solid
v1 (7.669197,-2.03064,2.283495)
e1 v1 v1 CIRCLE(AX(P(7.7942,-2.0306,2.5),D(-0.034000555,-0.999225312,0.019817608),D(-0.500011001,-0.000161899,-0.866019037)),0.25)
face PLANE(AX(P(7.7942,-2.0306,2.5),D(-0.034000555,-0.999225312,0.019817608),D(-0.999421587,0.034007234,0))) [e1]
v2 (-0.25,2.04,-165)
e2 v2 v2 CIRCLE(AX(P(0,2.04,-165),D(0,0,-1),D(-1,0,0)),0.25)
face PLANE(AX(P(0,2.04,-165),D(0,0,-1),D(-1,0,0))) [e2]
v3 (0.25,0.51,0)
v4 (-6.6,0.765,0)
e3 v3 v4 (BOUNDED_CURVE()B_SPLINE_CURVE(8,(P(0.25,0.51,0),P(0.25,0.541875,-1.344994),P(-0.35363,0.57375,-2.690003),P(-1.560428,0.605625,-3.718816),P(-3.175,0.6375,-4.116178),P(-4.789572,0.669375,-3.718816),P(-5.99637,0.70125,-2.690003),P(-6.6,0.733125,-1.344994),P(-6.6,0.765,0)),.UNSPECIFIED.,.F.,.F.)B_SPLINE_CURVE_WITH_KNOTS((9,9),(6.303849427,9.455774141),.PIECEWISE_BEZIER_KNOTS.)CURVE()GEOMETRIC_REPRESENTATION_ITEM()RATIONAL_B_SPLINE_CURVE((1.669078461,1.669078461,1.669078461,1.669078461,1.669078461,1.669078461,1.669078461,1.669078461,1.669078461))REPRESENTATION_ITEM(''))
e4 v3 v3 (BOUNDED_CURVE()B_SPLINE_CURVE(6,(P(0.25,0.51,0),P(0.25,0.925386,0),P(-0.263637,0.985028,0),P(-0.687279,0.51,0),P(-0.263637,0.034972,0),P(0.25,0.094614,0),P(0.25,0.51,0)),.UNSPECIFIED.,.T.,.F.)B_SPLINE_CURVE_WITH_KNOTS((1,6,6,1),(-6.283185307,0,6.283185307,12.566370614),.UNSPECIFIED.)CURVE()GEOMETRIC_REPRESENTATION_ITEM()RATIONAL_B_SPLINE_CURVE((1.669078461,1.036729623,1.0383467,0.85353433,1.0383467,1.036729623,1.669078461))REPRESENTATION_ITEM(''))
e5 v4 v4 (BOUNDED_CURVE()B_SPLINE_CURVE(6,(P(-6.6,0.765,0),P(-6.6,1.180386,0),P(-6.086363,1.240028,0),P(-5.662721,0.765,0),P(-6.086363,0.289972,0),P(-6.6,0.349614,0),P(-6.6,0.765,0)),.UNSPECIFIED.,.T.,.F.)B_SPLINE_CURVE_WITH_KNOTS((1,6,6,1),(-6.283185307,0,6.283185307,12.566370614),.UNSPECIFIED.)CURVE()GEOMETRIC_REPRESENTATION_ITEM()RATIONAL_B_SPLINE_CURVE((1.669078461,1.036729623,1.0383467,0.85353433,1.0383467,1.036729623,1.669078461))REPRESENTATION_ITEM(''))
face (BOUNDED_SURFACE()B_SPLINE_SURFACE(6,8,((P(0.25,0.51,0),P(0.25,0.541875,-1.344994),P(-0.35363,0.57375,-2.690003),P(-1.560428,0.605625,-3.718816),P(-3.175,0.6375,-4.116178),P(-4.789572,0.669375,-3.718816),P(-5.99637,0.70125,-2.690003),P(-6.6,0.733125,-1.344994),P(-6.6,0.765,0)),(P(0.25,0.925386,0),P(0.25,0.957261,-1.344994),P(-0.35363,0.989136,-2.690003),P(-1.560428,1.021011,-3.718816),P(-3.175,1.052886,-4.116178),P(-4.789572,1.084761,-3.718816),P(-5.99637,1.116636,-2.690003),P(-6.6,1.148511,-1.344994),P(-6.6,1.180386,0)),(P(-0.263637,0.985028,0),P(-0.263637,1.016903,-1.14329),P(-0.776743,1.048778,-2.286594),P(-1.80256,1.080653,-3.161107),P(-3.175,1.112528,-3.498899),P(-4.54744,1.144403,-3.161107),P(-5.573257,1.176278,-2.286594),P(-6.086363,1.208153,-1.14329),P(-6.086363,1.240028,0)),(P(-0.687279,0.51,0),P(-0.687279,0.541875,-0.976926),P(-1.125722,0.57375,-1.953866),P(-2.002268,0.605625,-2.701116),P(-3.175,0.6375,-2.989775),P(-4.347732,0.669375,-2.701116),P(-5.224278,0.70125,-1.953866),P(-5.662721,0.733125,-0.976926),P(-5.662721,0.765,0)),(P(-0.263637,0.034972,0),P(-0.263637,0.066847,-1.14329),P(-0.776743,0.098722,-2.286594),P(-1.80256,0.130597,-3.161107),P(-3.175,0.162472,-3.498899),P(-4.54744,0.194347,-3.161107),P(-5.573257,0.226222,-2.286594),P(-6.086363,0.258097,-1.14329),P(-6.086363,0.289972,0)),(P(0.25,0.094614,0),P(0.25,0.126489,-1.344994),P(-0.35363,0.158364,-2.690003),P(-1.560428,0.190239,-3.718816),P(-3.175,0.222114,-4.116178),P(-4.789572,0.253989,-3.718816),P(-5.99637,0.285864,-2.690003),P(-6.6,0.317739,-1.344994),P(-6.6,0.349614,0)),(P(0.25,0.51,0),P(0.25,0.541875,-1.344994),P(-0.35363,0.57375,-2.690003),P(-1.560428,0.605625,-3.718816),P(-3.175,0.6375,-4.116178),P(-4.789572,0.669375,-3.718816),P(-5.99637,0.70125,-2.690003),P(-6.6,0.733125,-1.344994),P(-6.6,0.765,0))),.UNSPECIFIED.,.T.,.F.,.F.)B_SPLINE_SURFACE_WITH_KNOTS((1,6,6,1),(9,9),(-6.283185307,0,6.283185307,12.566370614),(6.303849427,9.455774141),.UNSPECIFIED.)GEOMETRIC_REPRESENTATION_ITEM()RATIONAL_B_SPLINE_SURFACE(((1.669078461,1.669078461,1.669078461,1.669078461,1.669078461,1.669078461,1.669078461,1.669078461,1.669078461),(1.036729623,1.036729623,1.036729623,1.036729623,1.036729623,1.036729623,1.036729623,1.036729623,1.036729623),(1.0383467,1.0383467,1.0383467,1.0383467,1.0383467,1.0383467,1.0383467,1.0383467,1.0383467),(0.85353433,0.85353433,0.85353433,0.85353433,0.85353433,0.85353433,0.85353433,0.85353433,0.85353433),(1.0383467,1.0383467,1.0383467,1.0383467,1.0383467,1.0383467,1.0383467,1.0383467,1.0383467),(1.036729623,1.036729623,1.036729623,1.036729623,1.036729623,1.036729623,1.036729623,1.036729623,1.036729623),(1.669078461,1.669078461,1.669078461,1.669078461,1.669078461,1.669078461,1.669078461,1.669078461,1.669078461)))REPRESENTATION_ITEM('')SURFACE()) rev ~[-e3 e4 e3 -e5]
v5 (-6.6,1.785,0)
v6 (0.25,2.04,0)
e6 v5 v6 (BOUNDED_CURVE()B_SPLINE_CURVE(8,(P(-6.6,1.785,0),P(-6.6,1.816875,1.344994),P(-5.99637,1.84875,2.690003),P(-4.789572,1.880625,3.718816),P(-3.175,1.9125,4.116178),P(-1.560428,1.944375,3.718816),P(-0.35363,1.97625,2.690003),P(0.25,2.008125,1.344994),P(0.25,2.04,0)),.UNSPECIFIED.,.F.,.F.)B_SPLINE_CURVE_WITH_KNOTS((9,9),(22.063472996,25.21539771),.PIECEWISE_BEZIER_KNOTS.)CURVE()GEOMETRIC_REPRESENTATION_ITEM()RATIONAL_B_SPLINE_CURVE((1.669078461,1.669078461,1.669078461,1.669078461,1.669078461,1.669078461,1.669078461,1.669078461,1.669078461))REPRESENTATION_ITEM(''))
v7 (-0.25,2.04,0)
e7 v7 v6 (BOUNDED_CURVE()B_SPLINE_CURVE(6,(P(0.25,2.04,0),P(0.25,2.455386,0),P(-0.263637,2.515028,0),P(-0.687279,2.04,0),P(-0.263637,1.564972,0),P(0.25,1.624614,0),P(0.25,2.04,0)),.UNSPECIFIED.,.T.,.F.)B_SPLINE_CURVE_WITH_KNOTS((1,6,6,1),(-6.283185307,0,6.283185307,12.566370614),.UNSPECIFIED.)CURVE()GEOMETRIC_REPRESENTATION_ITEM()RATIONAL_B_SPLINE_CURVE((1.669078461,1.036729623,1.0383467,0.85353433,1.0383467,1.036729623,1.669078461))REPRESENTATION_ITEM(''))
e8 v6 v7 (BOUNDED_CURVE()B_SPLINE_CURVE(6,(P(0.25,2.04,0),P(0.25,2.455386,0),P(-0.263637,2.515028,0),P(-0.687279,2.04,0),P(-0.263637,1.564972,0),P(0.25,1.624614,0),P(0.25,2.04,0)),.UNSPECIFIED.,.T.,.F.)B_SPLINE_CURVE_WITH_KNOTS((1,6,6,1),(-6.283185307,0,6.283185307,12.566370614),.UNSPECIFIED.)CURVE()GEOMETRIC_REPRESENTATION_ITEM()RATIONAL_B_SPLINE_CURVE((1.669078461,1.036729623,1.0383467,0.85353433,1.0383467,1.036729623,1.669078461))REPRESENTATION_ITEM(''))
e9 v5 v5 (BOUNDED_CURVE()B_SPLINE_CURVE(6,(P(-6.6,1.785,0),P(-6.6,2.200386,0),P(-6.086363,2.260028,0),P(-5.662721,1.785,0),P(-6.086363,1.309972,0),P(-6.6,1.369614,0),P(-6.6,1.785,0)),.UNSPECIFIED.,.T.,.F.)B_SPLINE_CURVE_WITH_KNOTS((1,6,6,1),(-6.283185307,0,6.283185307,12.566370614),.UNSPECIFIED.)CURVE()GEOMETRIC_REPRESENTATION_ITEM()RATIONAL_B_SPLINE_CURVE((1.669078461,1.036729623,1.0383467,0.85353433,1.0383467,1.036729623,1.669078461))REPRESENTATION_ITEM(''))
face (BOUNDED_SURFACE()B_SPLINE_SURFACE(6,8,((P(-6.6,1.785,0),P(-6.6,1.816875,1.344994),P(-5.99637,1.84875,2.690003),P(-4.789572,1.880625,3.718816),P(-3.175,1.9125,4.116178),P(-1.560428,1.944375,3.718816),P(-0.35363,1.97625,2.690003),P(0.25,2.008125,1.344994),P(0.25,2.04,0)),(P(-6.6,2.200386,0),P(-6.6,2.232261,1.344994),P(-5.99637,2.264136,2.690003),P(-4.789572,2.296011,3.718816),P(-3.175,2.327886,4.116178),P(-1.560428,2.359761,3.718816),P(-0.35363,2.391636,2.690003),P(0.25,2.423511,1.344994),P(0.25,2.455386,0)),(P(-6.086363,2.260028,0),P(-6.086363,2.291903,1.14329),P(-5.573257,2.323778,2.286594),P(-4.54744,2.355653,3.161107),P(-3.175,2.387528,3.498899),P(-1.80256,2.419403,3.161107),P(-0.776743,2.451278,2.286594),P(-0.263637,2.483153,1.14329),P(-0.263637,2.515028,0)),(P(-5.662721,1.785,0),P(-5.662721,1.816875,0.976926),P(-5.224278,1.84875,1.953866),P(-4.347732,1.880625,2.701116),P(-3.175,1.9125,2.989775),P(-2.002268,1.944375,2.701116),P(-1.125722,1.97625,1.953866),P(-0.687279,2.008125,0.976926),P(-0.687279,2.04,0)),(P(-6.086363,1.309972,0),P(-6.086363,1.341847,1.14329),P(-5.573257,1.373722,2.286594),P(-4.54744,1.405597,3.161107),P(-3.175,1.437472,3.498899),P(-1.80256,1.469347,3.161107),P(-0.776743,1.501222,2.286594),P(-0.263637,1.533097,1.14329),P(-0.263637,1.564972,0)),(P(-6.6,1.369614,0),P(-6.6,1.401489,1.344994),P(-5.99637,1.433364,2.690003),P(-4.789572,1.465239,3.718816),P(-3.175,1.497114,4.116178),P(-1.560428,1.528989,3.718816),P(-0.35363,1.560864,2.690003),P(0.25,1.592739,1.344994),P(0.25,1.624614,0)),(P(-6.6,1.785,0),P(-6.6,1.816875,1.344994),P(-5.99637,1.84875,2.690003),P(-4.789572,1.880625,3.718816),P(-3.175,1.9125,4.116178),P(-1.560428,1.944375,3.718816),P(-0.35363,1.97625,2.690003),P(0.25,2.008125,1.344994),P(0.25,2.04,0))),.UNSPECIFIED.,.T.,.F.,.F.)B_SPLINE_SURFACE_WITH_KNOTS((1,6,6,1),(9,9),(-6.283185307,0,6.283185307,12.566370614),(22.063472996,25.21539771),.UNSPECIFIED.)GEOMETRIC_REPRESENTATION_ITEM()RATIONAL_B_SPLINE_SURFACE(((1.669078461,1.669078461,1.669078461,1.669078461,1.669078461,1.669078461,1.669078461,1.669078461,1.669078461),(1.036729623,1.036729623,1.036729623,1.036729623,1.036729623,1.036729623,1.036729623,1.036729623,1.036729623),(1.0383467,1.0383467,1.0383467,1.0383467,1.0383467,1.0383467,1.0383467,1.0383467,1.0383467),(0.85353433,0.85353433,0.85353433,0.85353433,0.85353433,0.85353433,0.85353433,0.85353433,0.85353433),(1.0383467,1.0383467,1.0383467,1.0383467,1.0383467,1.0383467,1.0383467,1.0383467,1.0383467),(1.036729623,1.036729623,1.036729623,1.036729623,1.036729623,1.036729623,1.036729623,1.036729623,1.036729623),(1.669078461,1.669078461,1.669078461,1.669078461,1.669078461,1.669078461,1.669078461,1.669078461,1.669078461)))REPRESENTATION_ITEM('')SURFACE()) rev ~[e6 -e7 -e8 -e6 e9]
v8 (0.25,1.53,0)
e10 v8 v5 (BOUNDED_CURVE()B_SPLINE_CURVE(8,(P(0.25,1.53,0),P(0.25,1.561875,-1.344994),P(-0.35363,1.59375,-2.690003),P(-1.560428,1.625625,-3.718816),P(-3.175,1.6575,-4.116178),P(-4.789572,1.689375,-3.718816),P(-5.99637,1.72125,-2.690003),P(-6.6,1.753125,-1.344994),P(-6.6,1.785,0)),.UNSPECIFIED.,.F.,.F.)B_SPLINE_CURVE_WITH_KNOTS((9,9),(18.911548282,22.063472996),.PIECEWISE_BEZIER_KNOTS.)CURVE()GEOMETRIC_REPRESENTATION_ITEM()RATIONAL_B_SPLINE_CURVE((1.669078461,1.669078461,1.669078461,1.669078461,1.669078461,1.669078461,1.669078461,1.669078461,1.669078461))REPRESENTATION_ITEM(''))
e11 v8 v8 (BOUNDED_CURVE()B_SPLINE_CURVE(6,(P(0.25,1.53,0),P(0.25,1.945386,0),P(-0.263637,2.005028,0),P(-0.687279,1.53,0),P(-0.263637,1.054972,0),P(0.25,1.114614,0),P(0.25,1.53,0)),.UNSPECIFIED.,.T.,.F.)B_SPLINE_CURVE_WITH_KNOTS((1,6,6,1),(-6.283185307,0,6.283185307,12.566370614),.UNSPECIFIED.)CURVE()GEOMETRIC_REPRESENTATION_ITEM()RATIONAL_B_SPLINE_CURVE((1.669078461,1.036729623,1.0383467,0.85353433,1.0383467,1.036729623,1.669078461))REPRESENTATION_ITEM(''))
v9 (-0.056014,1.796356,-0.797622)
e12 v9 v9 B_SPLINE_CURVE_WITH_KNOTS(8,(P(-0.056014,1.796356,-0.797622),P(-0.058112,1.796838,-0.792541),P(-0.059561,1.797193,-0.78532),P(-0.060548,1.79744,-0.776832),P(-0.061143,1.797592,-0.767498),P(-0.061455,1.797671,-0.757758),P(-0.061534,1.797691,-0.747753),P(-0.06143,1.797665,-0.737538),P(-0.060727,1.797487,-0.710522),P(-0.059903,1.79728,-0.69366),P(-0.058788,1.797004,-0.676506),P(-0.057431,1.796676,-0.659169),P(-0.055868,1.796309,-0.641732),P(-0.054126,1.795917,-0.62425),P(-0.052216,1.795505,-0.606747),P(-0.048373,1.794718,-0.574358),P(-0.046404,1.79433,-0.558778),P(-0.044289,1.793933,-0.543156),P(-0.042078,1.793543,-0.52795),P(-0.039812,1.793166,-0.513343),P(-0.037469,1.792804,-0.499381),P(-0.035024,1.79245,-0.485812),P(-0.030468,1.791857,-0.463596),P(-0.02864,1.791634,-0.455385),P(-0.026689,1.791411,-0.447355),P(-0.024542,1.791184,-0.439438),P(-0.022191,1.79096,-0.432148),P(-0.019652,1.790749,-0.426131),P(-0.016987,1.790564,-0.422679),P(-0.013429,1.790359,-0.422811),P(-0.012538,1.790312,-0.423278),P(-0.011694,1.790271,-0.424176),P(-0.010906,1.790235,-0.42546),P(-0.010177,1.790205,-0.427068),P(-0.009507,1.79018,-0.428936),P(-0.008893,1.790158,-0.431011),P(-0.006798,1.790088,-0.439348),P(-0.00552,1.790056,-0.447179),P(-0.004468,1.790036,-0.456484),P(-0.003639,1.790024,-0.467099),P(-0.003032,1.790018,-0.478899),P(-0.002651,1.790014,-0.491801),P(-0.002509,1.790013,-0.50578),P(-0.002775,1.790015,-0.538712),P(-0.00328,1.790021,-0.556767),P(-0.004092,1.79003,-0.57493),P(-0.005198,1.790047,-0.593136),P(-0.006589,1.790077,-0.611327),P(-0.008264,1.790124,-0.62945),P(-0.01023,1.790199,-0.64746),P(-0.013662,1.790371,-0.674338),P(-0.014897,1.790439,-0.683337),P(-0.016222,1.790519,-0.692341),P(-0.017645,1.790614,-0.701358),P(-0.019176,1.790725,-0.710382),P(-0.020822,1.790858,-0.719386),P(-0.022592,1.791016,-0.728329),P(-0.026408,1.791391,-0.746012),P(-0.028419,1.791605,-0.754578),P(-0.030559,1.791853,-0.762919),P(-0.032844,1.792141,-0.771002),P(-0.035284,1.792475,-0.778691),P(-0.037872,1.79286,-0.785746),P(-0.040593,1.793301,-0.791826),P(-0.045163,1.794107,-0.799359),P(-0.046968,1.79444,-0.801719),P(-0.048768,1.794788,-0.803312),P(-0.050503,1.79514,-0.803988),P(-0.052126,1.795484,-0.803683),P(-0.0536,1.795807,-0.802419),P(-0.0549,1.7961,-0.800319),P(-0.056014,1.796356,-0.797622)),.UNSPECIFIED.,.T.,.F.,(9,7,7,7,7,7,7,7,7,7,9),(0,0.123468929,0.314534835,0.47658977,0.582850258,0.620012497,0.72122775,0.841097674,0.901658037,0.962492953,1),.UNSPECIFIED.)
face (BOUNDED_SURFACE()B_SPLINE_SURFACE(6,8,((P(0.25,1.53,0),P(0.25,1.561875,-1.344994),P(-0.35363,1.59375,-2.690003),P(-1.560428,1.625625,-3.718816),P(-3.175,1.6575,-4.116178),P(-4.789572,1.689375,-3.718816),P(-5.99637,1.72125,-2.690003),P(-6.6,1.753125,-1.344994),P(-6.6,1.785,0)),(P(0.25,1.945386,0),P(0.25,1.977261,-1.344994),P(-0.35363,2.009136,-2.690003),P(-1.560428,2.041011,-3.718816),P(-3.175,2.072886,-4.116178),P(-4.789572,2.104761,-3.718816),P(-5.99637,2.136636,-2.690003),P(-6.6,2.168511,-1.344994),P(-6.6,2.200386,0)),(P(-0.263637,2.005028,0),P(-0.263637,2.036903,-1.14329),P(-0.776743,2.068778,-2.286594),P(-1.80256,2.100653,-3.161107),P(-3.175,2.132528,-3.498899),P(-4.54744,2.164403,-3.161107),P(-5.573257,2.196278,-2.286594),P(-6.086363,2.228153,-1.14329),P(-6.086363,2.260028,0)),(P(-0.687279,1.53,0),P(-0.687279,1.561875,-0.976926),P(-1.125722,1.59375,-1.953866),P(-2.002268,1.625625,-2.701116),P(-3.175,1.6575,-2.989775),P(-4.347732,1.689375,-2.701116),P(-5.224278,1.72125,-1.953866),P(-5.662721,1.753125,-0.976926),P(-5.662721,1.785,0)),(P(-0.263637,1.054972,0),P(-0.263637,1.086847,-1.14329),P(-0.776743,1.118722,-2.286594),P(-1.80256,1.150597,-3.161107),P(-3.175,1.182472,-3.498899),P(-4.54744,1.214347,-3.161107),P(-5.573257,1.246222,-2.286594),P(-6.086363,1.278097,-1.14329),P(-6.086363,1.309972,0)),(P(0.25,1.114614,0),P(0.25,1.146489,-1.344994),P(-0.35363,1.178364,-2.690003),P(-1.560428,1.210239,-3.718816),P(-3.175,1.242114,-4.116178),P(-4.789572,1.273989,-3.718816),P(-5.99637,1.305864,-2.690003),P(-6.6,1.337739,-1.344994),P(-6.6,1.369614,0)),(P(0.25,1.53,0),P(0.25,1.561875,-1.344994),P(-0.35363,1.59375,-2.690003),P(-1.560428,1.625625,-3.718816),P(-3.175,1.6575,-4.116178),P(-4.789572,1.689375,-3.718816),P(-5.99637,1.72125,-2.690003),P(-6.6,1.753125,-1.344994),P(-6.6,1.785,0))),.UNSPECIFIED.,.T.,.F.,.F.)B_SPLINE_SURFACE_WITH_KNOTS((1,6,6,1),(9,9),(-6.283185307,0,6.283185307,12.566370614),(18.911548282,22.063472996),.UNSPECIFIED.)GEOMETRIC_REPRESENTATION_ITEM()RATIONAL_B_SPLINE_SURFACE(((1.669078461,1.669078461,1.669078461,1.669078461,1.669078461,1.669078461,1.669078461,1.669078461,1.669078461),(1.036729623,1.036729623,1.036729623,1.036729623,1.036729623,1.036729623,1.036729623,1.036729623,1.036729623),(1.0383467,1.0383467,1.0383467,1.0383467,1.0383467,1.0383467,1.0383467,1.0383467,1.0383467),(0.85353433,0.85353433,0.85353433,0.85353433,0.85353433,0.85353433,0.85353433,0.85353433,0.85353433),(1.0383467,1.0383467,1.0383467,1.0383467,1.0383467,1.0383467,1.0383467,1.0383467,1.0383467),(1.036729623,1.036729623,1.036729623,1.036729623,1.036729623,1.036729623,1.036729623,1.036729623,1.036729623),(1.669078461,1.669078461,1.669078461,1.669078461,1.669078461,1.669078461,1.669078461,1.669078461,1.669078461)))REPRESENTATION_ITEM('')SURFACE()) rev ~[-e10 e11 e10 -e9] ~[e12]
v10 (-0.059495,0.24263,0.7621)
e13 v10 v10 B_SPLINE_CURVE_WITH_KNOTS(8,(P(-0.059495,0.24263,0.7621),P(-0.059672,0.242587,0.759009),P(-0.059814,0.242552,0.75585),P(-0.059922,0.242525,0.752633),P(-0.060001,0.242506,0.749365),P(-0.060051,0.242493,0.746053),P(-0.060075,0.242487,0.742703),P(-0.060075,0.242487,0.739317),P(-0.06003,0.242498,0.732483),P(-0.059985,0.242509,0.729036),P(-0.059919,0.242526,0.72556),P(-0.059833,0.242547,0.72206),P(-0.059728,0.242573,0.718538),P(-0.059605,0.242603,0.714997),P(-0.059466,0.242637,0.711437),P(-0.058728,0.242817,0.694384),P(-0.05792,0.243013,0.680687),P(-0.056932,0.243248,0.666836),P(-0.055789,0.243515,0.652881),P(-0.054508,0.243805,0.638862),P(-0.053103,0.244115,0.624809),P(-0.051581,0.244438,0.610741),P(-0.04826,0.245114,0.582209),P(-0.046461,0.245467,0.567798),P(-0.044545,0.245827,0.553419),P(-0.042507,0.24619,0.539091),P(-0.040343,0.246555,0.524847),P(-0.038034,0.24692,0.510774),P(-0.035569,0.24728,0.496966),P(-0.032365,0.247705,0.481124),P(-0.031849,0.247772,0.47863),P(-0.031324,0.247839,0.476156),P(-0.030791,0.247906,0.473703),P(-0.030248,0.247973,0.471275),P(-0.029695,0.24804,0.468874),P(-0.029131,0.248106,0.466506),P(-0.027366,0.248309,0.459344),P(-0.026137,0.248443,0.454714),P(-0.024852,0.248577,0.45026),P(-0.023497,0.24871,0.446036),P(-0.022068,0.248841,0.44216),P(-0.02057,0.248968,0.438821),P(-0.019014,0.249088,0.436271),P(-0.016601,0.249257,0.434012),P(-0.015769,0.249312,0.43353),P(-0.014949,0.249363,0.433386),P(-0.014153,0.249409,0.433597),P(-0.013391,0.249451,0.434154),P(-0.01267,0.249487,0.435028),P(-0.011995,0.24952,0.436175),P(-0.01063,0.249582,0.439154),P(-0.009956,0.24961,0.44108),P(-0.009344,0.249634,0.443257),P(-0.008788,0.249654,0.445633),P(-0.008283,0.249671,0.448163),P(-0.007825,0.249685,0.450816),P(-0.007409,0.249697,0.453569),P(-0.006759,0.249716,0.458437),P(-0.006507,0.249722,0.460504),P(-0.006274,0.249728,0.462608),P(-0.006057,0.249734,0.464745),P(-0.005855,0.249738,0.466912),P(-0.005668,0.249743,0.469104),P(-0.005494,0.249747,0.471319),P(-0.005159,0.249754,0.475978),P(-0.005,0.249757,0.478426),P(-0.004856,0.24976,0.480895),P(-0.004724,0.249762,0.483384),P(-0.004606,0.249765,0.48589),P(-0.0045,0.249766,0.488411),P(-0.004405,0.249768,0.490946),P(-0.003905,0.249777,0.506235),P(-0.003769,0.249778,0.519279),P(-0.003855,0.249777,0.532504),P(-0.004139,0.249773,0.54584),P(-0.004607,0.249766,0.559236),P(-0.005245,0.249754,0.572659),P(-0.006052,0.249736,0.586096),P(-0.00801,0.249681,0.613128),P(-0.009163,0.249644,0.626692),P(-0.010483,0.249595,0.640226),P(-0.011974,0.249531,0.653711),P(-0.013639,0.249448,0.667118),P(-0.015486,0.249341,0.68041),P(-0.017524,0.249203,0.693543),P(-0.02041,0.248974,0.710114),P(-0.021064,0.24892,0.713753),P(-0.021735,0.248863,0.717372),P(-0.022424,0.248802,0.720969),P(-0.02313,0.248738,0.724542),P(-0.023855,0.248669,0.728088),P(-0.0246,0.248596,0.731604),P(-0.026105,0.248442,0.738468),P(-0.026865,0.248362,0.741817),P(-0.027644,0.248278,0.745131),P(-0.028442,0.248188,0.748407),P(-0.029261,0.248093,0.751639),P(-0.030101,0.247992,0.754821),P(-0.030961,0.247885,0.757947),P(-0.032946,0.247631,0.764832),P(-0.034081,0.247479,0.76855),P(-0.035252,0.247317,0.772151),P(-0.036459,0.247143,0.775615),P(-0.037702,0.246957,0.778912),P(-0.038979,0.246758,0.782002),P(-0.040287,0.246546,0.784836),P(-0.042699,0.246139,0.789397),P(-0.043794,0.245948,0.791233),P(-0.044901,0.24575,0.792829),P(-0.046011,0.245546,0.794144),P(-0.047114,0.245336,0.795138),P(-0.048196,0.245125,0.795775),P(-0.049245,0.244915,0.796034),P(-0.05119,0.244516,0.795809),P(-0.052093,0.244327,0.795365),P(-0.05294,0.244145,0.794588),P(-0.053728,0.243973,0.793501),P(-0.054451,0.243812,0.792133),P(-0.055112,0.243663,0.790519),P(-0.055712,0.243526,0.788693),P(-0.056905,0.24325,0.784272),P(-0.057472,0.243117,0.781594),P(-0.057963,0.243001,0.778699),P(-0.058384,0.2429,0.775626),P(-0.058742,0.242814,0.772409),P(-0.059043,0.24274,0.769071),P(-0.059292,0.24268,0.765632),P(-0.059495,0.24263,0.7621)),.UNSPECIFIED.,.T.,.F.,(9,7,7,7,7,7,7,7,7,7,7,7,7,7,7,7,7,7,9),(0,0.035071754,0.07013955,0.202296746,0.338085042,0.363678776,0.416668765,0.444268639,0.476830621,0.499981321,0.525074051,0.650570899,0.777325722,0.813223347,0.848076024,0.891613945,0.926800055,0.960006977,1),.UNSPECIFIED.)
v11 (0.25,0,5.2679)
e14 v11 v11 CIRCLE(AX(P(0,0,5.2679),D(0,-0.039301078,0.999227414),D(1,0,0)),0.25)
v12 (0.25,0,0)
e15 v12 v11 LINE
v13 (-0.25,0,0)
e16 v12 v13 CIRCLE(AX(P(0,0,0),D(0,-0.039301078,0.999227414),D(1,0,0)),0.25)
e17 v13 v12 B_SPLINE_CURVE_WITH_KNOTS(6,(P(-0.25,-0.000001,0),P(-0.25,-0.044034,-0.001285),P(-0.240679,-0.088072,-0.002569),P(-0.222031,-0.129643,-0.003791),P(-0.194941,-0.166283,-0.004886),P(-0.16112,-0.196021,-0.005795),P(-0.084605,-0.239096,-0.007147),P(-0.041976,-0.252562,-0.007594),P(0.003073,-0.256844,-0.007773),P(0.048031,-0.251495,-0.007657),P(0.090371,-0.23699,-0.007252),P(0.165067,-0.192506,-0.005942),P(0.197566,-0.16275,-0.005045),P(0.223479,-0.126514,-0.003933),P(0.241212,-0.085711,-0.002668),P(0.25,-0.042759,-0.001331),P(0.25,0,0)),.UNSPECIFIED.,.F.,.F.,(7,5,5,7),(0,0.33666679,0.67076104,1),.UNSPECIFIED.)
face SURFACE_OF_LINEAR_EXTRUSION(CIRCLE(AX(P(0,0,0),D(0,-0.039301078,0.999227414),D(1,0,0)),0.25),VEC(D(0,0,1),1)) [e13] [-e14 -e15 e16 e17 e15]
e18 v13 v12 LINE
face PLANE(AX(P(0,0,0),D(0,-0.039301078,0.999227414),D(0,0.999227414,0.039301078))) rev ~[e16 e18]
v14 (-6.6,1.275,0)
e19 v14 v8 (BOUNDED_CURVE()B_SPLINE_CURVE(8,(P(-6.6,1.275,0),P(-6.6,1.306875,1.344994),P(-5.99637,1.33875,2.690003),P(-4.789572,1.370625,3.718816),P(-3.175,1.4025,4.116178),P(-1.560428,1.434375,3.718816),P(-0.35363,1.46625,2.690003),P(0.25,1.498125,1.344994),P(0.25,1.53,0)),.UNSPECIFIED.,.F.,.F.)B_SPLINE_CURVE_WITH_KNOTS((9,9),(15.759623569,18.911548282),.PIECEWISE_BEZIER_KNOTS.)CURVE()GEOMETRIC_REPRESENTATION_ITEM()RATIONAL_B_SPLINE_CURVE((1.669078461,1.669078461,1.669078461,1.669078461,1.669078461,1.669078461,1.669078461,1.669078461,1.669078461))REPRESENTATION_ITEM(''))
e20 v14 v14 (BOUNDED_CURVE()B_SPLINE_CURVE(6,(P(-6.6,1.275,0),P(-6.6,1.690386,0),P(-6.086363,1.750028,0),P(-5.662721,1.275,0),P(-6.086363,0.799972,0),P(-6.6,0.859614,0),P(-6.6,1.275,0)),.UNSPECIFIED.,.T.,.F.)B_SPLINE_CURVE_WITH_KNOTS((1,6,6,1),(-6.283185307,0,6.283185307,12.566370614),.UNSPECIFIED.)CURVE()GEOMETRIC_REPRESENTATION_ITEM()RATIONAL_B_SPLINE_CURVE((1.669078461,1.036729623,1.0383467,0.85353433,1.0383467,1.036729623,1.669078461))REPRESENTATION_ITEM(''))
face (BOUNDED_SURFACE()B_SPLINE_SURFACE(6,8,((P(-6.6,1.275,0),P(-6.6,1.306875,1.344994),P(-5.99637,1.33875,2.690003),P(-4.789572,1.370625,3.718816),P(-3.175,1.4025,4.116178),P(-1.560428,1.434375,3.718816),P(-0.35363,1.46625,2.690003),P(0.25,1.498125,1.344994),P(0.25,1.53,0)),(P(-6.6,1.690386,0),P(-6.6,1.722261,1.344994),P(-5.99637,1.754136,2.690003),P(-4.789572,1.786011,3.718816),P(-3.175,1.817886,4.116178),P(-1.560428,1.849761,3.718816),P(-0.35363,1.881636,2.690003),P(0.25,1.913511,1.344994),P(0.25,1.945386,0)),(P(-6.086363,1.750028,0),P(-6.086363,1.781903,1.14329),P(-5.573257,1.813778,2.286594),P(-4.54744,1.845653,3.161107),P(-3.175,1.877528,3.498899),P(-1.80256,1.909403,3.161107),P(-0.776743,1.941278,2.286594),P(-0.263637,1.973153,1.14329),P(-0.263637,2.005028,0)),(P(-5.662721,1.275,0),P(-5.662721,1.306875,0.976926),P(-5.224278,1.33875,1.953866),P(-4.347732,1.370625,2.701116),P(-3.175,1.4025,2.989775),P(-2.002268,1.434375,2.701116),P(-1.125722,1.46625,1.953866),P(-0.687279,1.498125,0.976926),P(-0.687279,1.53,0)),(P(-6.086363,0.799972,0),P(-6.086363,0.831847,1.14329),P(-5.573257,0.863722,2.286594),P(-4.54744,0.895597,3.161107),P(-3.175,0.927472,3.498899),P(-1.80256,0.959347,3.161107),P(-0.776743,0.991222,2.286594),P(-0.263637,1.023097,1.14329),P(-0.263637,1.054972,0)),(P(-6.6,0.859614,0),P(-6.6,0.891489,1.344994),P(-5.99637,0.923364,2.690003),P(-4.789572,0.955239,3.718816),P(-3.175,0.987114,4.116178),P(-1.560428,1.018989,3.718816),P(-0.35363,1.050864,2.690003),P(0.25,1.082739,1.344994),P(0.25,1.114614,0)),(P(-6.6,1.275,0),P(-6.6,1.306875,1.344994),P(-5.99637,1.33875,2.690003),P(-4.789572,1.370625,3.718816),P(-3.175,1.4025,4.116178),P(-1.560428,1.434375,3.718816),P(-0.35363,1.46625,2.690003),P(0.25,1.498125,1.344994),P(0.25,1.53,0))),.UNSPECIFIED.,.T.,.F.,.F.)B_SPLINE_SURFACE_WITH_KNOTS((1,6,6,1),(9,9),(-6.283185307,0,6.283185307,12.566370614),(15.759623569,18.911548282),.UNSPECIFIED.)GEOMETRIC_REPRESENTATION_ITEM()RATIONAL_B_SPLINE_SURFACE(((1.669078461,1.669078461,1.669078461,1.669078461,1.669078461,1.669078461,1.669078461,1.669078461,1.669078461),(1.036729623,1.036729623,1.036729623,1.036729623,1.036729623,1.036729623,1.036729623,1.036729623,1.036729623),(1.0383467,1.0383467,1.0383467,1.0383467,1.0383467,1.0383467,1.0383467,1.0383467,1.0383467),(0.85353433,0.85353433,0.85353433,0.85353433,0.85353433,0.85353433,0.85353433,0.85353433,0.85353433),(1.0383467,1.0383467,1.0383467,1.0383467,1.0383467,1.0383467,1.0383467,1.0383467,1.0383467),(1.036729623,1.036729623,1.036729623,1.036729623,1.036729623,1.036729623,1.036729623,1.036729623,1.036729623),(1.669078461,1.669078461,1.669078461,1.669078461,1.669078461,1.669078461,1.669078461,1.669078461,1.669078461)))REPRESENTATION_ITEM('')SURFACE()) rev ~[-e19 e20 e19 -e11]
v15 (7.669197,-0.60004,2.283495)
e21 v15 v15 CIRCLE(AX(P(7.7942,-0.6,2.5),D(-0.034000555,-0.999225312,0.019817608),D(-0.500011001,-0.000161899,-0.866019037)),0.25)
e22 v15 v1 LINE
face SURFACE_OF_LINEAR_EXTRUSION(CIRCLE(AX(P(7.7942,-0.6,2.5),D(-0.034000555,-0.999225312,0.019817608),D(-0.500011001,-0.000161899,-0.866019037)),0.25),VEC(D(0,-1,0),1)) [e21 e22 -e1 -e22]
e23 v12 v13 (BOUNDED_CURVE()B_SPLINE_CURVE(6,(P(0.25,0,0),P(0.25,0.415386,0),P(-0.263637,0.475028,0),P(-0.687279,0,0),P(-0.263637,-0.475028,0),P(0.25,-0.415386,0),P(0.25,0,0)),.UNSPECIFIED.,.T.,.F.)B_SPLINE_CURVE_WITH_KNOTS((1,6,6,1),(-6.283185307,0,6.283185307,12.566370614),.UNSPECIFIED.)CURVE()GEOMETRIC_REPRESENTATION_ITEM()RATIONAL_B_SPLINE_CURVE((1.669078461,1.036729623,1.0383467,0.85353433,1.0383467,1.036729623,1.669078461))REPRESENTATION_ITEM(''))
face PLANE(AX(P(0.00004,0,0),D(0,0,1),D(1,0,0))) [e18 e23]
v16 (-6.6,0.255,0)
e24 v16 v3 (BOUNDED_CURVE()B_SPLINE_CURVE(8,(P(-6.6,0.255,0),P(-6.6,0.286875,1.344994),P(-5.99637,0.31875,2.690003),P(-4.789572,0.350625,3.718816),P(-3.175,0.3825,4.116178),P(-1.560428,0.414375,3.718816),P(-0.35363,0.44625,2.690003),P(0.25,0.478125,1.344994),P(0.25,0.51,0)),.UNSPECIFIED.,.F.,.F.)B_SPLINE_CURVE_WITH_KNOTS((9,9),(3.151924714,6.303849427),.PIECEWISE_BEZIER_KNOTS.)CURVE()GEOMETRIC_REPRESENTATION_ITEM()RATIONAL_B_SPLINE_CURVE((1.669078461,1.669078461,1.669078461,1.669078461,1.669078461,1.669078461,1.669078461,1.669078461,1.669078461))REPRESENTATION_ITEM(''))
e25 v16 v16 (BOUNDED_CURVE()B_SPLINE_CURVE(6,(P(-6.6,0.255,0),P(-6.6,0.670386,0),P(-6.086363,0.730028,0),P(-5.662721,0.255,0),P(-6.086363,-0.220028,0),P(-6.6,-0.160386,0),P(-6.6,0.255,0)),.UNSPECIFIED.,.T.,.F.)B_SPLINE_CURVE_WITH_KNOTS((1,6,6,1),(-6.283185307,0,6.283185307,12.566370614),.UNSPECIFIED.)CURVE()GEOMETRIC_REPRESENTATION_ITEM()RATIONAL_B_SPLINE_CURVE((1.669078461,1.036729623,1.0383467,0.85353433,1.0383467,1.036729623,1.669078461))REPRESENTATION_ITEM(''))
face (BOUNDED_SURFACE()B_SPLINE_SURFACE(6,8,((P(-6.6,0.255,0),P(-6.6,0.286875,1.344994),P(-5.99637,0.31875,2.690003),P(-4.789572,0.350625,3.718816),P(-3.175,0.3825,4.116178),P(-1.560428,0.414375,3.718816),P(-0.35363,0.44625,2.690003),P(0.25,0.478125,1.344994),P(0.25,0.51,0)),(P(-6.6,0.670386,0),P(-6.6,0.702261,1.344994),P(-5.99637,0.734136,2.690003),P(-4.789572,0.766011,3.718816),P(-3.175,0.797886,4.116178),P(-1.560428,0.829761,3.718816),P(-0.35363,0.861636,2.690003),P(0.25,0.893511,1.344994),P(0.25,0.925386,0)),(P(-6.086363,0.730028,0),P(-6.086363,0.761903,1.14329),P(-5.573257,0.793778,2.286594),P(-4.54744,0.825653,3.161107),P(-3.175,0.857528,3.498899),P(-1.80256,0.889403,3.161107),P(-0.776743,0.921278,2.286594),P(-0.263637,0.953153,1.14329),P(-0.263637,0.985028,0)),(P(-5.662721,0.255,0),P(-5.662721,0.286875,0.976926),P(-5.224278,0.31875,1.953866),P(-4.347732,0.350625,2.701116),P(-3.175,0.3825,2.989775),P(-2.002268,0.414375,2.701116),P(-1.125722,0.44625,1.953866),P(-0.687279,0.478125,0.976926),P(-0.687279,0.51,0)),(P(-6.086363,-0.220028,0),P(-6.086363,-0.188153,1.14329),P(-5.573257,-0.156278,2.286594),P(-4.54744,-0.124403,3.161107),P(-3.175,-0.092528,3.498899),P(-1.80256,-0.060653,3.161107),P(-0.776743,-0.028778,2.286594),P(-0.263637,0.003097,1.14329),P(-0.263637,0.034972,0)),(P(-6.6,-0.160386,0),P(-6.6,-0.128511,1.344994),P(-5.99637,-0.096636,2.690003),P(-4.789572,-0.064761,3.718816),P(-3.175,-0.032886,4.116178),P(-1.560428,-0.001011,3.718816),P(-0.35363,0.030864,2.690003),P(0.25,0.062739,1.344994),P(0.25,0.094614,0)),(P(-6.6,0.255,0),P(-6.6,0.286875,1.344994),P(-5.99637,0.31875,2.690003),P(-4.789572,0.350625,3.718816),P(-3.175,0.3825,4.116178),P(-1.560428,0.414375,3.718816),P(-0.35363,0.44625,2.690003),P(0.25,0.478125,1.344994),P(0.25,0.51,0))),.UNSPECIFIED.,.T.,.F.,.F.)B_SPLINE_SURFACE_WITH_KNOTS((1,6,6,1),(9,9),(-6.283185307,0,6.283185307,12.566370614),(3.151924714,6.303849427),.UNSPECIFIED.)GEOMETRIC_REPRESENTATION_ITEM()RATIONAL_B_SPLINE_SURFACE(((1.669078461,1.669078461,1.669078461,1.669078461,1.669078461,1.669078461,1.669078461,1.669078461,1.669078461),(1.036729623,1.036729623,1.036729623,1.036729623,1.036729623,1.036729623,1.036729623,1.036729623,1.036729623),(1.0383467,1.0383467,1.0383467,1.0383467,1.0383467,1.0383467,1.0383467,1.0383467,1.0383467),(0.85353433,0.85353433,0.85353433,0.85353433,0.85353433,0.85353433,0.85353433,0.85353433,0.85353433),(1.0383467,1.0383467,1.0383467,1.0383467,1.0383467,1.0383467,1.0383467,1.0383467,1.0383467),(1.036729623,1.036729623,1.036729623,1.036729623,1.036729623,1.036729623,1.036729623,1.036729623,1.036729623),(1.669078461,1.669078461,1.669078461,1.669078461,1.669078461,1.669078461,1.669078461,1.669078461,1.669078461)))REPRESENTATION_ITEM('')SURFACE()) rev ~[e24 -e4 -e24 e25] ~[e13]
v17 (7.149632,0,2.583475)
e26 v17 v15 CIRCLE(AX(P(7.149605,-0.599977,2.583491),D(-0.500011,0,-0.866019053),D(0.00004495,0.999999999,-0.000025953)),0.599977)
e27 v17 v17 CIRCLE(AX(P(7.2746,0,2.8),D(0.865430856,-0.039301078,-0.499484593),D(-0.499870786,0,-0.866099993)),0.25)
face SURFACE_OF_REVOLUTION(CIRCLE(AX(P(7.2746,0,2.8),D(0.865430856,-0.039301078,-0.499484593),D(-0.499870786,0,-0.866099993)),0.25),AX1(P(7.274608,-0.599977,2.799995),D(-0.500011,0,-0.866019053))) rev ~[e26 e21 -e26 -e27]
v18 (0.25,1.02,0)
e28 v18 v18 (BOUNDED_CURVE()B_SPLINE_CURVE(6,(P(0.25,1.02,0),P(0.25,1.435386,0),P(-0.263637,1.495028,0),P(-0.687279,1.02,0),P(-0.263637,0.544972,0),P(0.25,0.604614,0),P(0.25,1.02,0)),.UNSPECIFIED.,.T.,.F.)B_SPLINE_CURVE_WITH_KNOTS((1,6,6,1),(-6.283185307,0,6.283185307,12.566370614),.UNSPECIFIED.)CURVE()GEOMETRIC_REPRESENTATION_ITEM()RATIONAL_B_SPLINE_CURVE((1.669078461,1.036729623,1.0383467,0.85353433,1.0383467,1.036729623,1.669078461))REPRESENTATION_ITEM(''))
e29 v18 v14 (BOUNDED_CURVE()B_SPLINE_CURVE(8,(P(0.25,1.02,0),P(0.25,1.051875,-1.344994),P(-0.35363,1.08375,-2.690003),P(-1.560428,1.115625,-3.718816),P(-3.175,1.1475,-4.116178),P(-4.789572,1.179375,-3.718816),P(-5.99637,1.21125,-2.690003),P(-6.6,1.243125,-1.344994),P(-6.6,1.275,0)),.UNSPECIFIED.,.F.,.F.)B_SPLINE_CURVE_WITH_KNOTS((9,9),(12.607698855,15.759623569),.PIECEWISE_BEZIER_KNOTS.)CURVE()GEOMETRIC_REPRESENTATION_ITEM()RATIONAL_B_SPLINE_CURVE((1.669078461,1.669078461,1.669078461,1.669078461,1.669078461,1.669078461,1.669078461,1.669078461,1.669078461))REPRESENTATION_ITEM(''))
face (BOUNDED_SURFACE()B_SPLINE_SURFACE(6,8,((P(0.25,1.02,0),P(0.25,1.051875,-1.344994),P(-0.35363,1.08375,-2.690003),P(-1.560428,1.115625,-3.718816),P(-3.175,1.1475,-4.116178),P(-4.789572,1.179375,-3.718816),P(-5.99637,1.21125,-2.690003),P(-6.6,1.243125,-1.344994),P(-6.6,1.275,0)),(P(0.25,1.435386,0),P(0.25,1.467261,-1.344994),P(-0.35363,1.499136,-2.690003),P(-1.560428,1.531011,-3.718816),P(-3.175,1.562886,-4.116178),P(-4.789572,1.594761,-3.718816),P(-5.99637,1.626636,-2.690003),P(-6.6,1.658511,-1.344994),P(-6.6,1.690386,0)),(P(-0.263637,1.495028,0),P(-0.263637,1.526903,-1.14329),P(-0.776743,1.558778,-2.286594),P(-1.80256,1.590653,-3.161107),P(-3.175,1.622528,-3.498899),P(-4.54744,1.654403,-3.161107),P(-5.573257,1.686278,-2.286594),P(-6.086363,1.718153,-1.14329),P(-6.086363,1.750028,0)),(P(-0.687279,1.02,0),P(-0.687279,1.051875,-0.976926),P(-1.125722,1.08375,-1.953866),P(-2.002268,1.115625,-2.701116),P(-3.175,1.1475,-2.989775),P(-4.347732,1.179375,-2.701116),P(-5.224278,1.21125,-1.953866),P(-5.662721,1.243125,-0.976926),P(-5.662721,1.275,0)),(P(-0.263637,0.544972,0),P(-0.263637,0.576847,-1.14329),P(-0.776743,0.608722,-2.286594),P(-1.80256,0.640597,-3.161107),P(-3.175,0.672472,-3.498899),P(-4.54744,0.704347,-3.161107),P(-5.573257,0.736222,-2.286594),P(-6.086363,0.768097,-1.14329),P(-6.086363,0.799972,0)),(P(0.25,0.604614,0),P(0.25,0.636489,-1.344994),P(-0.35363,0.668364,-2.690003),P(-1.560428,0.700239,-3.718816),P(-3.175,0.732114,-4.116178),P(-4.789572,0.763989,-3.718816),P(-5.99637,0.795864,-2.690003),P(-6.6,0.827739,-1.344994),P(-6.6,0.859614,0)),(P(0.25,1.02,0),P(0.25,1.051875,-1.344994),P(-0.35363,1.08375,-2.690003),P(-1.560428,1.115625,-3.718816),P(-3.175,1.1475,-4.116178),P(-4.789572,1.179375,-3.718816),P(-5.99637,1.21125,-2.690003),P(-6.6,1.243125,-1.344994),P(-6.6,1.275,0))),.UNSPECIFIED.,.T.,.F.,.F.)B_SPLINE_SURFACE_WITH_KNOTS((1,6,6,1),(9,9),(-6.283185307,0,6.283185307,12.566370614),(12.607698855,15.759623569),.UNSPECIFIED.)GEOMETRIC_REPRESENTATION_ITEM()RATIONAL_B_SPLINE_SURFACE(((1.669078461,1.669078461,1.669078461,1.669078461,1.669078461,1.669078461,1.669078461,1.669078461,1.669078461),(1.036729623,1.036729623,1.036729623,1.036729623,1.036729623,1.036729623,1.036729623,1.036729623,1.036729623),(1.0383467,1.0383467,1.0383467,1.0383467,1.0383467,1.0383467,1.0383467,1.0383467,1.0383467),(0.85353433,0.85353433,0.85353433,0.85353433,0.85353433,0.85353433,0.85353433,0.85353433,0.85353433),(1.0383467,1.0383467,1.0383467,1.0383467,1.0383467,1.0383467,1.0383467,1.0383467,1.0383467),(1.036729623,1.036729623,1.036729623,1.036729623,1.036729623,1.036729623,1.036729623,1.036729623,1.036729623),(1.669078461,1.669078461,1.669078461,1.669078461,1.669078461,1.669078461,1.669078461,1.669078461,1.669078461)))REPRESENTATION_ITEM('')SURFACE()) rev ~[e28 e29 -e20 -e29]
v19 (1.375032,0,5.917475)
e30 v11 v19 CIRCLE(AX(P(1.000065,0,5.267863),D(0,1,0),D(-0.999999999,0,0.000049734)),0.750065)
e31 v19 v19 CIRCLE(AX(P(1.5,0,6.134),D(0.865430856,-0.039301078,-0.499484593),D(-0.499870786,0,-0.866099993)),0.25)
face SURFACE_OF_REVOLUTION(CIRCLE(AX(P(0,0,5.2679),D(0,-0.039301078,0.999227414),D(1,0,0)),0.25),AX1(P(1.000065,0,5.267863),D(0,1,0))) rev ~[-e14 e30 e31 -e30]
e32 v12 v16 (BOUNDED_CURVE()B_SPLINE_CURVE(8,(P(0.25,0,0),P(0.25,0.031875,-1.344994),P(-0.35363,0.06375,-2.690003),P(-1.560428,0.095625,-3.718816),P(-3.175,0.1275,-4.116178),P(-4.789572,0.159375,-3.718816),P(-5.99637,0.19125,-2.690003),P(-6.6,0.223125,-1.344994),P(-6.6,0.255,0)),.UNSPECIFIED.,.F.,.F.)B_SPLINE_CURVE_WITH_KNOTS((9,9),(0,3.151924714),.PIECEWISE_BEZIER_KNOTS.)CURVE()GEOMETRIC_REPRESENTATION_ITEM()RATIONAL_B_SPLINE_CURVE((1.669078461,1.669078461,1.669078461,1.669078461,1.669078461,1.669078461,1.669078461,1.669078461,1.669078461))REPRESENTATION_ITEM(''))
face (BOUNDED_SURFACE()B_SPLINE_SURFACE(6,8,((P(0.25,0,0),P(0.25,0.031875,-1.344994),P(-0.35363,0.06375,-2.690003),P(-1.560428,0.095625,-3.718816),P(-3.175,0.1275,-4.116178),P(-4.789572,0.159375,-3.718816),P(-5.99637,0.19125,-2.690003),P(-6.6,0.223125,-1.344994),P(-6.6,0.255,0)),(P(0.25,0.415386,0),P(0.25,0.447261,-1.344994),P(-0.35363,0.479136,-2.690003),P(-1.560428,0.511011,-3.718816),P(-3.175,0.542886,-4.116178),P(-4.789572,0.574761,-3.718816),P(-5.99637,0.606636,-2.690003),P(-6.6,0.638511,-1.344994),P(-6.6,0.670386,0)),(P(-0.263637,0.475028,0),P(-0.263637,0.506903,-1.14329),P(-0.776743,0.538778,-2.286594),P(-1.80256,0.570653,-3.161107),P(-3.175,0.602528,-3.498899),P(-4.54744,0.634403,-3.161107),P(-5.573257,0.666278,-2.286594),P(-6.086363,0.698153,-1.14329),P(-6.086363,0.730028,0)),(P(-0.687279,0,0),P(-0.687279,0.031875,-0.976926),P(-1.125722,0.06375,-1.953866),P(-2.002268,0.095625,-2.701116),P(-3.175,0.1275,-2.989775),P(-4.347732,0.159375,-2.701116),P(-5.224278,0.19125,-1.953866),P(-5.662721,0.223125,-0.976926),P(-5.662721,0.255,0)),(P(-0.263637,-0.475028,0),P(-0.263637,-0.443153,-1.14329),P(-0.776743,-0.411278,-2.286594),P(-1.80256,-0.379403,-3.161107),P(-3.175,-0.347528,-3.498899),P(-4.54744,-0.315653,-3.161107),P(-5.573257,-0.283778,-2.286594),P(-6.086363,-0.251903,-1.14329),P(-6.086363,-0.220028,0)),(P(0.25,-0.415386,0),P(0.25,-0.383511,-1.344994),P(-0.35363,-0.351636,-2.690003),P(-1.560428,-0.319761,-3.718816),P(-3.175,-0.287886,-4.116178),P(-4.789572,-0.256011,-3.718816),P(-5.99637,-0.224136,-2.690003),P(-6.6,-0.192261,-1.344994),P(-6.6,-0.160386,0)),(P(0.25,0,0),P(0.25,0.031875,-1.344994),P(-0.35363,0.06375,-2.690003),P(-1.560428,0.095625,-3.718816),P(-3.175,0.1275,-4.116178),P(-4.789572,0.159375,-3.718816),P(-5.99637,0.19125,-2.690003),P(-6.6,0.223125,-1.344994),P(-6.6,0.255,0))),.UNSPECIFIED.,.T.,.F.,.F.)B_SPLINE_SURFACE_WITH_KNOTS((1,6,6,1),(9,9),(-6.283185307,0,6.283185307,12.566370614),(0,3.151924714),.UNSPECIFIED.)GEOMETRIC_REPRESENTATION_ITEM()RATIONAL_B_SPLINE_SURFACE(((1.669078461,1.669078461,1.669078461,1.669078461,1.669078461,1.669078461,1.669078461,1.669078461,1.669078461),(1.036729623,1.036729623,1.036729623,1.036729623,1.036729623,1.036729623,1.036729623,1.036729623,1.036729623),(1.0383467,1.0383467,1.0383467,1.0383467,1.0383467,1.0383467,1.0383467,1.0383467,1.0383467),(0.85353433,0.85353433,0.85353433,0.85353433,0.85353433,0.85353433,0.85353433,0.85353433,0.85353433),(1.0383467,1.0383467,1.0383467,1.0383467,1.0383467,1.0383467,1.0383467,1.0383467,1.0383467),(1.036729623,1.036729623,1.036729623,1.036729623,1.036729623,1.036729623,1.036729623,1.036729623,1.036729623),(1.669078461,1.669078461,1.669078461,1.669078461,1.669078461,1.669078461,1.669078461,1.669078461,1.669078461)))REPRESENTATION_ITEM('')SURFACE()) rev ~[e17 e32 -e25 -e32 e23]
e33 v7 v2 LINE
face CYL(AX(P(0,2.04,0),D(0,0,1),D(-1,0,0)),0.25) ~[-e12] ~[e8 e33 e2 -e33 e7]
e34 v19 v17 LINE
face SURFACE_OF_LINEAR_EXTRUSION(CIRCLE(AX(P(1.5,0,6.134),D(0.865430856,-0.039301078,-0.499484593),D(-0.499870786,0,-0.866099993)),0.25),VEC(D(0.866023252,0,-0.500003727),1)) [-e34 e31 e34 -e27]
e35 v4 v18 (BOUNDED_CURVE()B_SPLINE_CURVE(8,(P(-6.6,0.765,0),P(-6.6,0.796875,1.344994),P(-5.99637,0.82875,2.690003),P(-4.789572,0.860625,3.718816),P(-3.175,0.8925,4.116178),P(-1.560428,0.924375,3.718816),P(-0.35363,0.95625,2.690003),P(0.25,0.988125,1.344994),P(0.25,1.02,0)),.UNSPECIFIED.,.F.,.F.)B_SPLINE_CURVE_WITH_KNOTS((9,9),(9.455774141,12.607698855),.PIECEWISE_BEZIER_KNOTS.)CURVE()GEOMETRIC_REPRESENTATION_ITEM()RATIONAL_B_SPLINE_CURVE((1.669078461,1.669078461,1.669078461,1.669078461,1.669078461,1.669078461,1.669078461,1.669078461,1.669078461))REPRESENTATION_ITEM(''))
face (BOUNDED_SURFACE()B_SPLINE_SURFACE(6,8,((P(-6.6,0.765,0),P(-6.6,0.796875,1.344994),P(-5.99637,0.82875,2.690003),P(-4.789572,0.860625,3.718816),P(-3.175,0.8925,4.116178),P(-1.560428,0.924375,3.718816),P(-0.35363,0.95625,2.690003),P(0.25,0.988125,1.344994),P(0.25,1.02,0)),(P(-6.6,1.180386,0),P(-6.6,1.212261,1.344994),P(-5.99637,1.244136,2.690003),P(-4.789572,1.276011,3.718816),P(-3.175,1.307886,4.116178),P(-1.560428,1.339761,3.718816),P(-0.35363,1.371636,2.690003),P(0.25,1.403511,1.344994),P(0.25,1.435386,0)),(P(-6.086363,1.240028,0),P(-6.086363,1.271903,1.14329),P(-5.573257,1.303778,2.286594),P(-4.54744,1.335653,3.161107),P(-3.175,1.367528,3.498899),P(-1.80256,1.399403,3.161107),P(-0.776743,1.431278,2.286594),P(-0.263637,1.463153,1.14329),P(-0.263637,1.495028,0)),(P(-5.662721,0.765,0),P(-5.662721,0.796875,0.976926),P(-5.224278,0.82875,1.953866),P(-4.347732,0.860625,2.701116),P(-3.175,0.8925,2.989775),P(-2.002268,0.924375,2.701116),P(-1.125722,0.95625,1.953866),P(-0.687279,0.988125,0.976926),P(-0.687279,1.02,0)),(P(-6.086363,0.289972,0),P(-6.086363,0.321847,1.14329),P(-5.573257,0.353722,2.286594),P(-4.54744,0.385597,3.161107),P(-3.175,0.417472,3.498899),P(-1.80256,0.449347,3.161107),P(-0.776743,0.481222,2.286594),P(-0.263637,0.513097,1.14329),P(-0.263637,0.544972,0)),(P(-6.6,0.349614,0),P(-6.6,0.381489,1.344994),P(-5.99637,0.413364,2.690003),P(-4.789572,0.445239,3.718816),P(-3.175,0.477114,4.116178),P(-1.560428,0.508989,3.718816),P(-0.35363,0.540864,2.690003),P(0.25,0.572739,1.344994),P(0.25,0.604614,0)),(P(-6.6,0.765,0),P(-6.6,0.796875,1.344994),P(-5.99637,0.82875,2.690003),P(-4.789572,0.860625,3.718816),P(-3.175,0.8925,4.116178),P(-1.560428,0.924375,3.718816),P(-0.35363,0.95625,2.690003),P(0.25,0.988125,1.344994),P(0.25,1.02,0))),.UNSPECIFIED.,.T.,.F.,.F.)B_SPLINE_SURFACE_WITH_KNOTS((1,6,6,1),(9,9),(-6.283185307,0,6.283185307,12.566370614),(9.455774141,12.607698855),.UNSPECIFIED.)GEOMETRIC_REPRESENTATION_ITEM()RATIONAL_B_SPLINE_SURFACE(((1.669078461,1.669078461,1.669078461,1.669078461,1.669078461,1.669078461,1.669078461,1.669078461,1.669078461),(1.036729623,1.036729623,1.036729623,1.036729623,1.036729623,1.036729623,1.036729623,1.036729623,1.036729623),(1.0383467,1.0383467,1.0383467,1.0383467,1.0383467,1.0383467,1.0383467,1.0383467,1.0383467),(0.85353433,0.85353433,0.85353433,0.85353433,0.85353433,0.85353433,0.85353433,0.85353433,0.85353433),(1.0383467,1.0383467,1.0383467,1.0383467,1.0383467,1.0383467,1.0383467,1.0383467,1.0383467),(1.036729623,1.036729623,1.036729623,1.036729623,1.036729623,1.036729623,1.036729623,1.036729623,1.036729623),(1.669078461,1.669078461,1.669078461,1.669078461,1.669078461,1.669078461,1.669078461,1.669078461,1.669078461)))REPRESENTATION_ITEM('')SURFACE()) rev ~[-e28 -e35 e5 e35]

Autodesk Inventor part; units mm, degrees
ref_plane "YZ Plane" through (0, 0, 0) normal (1, 0, 0) x (0, 1, 0)
ref_plane "XZ Plane" through (0, 0, 0) normal (0, 1, 0) x (-1, 0, 0)
sketch "Sketch1" plane through (0, 0, 0) normal (0, 0, 1) x (1, 0, 0)
  circle A0 centre (0, 0) radius 0.25
  line L0 (-3.175, 0) -> (-3.175, 4.9243)
  dimension "d0" = 0.5
  dimension "d1" = 6.35
coil "Coil1" sketch "Sketch1" operation add axis through (-3.175, 0, 0) along (0, 1, 0) pitch 0.51 turns 4 hand right
ref_plane "Work Plane2" through (0, 0, 0) normal (0, -0.0393, 0.9992) x (1, 0, 0)
ref_plane "Work Plane3" through (0, 0, 0) normal (0, -0.9992, -0.0393) x (1, 0, 0)
sketch "Sketch2" plane through (0, 0, 0) normal (0, -0.0393, 0.9992) x (1, 0, 0)
  circle A0 centre (0, 0) radius 0.25
  circle A1 centre (0, 0) radius 0.25
  point P0 (0.25, 0)
  dimension "d10" = 0.5
sketch3d "3D Sketch2"
  line L0 (0, 0, 0) -> (0, 0, 5.2679)
  arc A0 (0, 0, 5.2679) -> (1.5, 0, 6.134) centre (1, 0, 5.2679) ccw
  line L1 (1.5, 0, 6.134) -> (7.2746, 0, 2.8)
  arc A1 (7.2746, 0, 2.8) -> (7.7942, -0.6, 2.5) centre (7.2746, -0.6, 2.8) ccw
  line L2 (7.7942, -0.6, 2.5) -> (7.7942, -2.0306, 2.5)
  dimension "d20" = 7
  dimension "d37" = 0.6
  dimension "d40" = 9
  dimension "d41" = 60
  dimension "d36" = 1
sweep "Sweep1" add profiles "Sketch2" path "3D Sketch2"
sketch "Sketch6" plane through (0, 2.04, 0) normal (0, 0, -1) x (-1, 0, 0)
  circle A0 centre (0, 0) radius 0.25 projected
  circle A1 centre (0, 0) radius 0.25
  point P0 (-0.25, 0)
  point P1 (0, -2.04)
extrude "Extrusion1" add sketch "Sketch6" along normal blind 165
properties part number "antenna_rx_deploy" material "BeCu"
